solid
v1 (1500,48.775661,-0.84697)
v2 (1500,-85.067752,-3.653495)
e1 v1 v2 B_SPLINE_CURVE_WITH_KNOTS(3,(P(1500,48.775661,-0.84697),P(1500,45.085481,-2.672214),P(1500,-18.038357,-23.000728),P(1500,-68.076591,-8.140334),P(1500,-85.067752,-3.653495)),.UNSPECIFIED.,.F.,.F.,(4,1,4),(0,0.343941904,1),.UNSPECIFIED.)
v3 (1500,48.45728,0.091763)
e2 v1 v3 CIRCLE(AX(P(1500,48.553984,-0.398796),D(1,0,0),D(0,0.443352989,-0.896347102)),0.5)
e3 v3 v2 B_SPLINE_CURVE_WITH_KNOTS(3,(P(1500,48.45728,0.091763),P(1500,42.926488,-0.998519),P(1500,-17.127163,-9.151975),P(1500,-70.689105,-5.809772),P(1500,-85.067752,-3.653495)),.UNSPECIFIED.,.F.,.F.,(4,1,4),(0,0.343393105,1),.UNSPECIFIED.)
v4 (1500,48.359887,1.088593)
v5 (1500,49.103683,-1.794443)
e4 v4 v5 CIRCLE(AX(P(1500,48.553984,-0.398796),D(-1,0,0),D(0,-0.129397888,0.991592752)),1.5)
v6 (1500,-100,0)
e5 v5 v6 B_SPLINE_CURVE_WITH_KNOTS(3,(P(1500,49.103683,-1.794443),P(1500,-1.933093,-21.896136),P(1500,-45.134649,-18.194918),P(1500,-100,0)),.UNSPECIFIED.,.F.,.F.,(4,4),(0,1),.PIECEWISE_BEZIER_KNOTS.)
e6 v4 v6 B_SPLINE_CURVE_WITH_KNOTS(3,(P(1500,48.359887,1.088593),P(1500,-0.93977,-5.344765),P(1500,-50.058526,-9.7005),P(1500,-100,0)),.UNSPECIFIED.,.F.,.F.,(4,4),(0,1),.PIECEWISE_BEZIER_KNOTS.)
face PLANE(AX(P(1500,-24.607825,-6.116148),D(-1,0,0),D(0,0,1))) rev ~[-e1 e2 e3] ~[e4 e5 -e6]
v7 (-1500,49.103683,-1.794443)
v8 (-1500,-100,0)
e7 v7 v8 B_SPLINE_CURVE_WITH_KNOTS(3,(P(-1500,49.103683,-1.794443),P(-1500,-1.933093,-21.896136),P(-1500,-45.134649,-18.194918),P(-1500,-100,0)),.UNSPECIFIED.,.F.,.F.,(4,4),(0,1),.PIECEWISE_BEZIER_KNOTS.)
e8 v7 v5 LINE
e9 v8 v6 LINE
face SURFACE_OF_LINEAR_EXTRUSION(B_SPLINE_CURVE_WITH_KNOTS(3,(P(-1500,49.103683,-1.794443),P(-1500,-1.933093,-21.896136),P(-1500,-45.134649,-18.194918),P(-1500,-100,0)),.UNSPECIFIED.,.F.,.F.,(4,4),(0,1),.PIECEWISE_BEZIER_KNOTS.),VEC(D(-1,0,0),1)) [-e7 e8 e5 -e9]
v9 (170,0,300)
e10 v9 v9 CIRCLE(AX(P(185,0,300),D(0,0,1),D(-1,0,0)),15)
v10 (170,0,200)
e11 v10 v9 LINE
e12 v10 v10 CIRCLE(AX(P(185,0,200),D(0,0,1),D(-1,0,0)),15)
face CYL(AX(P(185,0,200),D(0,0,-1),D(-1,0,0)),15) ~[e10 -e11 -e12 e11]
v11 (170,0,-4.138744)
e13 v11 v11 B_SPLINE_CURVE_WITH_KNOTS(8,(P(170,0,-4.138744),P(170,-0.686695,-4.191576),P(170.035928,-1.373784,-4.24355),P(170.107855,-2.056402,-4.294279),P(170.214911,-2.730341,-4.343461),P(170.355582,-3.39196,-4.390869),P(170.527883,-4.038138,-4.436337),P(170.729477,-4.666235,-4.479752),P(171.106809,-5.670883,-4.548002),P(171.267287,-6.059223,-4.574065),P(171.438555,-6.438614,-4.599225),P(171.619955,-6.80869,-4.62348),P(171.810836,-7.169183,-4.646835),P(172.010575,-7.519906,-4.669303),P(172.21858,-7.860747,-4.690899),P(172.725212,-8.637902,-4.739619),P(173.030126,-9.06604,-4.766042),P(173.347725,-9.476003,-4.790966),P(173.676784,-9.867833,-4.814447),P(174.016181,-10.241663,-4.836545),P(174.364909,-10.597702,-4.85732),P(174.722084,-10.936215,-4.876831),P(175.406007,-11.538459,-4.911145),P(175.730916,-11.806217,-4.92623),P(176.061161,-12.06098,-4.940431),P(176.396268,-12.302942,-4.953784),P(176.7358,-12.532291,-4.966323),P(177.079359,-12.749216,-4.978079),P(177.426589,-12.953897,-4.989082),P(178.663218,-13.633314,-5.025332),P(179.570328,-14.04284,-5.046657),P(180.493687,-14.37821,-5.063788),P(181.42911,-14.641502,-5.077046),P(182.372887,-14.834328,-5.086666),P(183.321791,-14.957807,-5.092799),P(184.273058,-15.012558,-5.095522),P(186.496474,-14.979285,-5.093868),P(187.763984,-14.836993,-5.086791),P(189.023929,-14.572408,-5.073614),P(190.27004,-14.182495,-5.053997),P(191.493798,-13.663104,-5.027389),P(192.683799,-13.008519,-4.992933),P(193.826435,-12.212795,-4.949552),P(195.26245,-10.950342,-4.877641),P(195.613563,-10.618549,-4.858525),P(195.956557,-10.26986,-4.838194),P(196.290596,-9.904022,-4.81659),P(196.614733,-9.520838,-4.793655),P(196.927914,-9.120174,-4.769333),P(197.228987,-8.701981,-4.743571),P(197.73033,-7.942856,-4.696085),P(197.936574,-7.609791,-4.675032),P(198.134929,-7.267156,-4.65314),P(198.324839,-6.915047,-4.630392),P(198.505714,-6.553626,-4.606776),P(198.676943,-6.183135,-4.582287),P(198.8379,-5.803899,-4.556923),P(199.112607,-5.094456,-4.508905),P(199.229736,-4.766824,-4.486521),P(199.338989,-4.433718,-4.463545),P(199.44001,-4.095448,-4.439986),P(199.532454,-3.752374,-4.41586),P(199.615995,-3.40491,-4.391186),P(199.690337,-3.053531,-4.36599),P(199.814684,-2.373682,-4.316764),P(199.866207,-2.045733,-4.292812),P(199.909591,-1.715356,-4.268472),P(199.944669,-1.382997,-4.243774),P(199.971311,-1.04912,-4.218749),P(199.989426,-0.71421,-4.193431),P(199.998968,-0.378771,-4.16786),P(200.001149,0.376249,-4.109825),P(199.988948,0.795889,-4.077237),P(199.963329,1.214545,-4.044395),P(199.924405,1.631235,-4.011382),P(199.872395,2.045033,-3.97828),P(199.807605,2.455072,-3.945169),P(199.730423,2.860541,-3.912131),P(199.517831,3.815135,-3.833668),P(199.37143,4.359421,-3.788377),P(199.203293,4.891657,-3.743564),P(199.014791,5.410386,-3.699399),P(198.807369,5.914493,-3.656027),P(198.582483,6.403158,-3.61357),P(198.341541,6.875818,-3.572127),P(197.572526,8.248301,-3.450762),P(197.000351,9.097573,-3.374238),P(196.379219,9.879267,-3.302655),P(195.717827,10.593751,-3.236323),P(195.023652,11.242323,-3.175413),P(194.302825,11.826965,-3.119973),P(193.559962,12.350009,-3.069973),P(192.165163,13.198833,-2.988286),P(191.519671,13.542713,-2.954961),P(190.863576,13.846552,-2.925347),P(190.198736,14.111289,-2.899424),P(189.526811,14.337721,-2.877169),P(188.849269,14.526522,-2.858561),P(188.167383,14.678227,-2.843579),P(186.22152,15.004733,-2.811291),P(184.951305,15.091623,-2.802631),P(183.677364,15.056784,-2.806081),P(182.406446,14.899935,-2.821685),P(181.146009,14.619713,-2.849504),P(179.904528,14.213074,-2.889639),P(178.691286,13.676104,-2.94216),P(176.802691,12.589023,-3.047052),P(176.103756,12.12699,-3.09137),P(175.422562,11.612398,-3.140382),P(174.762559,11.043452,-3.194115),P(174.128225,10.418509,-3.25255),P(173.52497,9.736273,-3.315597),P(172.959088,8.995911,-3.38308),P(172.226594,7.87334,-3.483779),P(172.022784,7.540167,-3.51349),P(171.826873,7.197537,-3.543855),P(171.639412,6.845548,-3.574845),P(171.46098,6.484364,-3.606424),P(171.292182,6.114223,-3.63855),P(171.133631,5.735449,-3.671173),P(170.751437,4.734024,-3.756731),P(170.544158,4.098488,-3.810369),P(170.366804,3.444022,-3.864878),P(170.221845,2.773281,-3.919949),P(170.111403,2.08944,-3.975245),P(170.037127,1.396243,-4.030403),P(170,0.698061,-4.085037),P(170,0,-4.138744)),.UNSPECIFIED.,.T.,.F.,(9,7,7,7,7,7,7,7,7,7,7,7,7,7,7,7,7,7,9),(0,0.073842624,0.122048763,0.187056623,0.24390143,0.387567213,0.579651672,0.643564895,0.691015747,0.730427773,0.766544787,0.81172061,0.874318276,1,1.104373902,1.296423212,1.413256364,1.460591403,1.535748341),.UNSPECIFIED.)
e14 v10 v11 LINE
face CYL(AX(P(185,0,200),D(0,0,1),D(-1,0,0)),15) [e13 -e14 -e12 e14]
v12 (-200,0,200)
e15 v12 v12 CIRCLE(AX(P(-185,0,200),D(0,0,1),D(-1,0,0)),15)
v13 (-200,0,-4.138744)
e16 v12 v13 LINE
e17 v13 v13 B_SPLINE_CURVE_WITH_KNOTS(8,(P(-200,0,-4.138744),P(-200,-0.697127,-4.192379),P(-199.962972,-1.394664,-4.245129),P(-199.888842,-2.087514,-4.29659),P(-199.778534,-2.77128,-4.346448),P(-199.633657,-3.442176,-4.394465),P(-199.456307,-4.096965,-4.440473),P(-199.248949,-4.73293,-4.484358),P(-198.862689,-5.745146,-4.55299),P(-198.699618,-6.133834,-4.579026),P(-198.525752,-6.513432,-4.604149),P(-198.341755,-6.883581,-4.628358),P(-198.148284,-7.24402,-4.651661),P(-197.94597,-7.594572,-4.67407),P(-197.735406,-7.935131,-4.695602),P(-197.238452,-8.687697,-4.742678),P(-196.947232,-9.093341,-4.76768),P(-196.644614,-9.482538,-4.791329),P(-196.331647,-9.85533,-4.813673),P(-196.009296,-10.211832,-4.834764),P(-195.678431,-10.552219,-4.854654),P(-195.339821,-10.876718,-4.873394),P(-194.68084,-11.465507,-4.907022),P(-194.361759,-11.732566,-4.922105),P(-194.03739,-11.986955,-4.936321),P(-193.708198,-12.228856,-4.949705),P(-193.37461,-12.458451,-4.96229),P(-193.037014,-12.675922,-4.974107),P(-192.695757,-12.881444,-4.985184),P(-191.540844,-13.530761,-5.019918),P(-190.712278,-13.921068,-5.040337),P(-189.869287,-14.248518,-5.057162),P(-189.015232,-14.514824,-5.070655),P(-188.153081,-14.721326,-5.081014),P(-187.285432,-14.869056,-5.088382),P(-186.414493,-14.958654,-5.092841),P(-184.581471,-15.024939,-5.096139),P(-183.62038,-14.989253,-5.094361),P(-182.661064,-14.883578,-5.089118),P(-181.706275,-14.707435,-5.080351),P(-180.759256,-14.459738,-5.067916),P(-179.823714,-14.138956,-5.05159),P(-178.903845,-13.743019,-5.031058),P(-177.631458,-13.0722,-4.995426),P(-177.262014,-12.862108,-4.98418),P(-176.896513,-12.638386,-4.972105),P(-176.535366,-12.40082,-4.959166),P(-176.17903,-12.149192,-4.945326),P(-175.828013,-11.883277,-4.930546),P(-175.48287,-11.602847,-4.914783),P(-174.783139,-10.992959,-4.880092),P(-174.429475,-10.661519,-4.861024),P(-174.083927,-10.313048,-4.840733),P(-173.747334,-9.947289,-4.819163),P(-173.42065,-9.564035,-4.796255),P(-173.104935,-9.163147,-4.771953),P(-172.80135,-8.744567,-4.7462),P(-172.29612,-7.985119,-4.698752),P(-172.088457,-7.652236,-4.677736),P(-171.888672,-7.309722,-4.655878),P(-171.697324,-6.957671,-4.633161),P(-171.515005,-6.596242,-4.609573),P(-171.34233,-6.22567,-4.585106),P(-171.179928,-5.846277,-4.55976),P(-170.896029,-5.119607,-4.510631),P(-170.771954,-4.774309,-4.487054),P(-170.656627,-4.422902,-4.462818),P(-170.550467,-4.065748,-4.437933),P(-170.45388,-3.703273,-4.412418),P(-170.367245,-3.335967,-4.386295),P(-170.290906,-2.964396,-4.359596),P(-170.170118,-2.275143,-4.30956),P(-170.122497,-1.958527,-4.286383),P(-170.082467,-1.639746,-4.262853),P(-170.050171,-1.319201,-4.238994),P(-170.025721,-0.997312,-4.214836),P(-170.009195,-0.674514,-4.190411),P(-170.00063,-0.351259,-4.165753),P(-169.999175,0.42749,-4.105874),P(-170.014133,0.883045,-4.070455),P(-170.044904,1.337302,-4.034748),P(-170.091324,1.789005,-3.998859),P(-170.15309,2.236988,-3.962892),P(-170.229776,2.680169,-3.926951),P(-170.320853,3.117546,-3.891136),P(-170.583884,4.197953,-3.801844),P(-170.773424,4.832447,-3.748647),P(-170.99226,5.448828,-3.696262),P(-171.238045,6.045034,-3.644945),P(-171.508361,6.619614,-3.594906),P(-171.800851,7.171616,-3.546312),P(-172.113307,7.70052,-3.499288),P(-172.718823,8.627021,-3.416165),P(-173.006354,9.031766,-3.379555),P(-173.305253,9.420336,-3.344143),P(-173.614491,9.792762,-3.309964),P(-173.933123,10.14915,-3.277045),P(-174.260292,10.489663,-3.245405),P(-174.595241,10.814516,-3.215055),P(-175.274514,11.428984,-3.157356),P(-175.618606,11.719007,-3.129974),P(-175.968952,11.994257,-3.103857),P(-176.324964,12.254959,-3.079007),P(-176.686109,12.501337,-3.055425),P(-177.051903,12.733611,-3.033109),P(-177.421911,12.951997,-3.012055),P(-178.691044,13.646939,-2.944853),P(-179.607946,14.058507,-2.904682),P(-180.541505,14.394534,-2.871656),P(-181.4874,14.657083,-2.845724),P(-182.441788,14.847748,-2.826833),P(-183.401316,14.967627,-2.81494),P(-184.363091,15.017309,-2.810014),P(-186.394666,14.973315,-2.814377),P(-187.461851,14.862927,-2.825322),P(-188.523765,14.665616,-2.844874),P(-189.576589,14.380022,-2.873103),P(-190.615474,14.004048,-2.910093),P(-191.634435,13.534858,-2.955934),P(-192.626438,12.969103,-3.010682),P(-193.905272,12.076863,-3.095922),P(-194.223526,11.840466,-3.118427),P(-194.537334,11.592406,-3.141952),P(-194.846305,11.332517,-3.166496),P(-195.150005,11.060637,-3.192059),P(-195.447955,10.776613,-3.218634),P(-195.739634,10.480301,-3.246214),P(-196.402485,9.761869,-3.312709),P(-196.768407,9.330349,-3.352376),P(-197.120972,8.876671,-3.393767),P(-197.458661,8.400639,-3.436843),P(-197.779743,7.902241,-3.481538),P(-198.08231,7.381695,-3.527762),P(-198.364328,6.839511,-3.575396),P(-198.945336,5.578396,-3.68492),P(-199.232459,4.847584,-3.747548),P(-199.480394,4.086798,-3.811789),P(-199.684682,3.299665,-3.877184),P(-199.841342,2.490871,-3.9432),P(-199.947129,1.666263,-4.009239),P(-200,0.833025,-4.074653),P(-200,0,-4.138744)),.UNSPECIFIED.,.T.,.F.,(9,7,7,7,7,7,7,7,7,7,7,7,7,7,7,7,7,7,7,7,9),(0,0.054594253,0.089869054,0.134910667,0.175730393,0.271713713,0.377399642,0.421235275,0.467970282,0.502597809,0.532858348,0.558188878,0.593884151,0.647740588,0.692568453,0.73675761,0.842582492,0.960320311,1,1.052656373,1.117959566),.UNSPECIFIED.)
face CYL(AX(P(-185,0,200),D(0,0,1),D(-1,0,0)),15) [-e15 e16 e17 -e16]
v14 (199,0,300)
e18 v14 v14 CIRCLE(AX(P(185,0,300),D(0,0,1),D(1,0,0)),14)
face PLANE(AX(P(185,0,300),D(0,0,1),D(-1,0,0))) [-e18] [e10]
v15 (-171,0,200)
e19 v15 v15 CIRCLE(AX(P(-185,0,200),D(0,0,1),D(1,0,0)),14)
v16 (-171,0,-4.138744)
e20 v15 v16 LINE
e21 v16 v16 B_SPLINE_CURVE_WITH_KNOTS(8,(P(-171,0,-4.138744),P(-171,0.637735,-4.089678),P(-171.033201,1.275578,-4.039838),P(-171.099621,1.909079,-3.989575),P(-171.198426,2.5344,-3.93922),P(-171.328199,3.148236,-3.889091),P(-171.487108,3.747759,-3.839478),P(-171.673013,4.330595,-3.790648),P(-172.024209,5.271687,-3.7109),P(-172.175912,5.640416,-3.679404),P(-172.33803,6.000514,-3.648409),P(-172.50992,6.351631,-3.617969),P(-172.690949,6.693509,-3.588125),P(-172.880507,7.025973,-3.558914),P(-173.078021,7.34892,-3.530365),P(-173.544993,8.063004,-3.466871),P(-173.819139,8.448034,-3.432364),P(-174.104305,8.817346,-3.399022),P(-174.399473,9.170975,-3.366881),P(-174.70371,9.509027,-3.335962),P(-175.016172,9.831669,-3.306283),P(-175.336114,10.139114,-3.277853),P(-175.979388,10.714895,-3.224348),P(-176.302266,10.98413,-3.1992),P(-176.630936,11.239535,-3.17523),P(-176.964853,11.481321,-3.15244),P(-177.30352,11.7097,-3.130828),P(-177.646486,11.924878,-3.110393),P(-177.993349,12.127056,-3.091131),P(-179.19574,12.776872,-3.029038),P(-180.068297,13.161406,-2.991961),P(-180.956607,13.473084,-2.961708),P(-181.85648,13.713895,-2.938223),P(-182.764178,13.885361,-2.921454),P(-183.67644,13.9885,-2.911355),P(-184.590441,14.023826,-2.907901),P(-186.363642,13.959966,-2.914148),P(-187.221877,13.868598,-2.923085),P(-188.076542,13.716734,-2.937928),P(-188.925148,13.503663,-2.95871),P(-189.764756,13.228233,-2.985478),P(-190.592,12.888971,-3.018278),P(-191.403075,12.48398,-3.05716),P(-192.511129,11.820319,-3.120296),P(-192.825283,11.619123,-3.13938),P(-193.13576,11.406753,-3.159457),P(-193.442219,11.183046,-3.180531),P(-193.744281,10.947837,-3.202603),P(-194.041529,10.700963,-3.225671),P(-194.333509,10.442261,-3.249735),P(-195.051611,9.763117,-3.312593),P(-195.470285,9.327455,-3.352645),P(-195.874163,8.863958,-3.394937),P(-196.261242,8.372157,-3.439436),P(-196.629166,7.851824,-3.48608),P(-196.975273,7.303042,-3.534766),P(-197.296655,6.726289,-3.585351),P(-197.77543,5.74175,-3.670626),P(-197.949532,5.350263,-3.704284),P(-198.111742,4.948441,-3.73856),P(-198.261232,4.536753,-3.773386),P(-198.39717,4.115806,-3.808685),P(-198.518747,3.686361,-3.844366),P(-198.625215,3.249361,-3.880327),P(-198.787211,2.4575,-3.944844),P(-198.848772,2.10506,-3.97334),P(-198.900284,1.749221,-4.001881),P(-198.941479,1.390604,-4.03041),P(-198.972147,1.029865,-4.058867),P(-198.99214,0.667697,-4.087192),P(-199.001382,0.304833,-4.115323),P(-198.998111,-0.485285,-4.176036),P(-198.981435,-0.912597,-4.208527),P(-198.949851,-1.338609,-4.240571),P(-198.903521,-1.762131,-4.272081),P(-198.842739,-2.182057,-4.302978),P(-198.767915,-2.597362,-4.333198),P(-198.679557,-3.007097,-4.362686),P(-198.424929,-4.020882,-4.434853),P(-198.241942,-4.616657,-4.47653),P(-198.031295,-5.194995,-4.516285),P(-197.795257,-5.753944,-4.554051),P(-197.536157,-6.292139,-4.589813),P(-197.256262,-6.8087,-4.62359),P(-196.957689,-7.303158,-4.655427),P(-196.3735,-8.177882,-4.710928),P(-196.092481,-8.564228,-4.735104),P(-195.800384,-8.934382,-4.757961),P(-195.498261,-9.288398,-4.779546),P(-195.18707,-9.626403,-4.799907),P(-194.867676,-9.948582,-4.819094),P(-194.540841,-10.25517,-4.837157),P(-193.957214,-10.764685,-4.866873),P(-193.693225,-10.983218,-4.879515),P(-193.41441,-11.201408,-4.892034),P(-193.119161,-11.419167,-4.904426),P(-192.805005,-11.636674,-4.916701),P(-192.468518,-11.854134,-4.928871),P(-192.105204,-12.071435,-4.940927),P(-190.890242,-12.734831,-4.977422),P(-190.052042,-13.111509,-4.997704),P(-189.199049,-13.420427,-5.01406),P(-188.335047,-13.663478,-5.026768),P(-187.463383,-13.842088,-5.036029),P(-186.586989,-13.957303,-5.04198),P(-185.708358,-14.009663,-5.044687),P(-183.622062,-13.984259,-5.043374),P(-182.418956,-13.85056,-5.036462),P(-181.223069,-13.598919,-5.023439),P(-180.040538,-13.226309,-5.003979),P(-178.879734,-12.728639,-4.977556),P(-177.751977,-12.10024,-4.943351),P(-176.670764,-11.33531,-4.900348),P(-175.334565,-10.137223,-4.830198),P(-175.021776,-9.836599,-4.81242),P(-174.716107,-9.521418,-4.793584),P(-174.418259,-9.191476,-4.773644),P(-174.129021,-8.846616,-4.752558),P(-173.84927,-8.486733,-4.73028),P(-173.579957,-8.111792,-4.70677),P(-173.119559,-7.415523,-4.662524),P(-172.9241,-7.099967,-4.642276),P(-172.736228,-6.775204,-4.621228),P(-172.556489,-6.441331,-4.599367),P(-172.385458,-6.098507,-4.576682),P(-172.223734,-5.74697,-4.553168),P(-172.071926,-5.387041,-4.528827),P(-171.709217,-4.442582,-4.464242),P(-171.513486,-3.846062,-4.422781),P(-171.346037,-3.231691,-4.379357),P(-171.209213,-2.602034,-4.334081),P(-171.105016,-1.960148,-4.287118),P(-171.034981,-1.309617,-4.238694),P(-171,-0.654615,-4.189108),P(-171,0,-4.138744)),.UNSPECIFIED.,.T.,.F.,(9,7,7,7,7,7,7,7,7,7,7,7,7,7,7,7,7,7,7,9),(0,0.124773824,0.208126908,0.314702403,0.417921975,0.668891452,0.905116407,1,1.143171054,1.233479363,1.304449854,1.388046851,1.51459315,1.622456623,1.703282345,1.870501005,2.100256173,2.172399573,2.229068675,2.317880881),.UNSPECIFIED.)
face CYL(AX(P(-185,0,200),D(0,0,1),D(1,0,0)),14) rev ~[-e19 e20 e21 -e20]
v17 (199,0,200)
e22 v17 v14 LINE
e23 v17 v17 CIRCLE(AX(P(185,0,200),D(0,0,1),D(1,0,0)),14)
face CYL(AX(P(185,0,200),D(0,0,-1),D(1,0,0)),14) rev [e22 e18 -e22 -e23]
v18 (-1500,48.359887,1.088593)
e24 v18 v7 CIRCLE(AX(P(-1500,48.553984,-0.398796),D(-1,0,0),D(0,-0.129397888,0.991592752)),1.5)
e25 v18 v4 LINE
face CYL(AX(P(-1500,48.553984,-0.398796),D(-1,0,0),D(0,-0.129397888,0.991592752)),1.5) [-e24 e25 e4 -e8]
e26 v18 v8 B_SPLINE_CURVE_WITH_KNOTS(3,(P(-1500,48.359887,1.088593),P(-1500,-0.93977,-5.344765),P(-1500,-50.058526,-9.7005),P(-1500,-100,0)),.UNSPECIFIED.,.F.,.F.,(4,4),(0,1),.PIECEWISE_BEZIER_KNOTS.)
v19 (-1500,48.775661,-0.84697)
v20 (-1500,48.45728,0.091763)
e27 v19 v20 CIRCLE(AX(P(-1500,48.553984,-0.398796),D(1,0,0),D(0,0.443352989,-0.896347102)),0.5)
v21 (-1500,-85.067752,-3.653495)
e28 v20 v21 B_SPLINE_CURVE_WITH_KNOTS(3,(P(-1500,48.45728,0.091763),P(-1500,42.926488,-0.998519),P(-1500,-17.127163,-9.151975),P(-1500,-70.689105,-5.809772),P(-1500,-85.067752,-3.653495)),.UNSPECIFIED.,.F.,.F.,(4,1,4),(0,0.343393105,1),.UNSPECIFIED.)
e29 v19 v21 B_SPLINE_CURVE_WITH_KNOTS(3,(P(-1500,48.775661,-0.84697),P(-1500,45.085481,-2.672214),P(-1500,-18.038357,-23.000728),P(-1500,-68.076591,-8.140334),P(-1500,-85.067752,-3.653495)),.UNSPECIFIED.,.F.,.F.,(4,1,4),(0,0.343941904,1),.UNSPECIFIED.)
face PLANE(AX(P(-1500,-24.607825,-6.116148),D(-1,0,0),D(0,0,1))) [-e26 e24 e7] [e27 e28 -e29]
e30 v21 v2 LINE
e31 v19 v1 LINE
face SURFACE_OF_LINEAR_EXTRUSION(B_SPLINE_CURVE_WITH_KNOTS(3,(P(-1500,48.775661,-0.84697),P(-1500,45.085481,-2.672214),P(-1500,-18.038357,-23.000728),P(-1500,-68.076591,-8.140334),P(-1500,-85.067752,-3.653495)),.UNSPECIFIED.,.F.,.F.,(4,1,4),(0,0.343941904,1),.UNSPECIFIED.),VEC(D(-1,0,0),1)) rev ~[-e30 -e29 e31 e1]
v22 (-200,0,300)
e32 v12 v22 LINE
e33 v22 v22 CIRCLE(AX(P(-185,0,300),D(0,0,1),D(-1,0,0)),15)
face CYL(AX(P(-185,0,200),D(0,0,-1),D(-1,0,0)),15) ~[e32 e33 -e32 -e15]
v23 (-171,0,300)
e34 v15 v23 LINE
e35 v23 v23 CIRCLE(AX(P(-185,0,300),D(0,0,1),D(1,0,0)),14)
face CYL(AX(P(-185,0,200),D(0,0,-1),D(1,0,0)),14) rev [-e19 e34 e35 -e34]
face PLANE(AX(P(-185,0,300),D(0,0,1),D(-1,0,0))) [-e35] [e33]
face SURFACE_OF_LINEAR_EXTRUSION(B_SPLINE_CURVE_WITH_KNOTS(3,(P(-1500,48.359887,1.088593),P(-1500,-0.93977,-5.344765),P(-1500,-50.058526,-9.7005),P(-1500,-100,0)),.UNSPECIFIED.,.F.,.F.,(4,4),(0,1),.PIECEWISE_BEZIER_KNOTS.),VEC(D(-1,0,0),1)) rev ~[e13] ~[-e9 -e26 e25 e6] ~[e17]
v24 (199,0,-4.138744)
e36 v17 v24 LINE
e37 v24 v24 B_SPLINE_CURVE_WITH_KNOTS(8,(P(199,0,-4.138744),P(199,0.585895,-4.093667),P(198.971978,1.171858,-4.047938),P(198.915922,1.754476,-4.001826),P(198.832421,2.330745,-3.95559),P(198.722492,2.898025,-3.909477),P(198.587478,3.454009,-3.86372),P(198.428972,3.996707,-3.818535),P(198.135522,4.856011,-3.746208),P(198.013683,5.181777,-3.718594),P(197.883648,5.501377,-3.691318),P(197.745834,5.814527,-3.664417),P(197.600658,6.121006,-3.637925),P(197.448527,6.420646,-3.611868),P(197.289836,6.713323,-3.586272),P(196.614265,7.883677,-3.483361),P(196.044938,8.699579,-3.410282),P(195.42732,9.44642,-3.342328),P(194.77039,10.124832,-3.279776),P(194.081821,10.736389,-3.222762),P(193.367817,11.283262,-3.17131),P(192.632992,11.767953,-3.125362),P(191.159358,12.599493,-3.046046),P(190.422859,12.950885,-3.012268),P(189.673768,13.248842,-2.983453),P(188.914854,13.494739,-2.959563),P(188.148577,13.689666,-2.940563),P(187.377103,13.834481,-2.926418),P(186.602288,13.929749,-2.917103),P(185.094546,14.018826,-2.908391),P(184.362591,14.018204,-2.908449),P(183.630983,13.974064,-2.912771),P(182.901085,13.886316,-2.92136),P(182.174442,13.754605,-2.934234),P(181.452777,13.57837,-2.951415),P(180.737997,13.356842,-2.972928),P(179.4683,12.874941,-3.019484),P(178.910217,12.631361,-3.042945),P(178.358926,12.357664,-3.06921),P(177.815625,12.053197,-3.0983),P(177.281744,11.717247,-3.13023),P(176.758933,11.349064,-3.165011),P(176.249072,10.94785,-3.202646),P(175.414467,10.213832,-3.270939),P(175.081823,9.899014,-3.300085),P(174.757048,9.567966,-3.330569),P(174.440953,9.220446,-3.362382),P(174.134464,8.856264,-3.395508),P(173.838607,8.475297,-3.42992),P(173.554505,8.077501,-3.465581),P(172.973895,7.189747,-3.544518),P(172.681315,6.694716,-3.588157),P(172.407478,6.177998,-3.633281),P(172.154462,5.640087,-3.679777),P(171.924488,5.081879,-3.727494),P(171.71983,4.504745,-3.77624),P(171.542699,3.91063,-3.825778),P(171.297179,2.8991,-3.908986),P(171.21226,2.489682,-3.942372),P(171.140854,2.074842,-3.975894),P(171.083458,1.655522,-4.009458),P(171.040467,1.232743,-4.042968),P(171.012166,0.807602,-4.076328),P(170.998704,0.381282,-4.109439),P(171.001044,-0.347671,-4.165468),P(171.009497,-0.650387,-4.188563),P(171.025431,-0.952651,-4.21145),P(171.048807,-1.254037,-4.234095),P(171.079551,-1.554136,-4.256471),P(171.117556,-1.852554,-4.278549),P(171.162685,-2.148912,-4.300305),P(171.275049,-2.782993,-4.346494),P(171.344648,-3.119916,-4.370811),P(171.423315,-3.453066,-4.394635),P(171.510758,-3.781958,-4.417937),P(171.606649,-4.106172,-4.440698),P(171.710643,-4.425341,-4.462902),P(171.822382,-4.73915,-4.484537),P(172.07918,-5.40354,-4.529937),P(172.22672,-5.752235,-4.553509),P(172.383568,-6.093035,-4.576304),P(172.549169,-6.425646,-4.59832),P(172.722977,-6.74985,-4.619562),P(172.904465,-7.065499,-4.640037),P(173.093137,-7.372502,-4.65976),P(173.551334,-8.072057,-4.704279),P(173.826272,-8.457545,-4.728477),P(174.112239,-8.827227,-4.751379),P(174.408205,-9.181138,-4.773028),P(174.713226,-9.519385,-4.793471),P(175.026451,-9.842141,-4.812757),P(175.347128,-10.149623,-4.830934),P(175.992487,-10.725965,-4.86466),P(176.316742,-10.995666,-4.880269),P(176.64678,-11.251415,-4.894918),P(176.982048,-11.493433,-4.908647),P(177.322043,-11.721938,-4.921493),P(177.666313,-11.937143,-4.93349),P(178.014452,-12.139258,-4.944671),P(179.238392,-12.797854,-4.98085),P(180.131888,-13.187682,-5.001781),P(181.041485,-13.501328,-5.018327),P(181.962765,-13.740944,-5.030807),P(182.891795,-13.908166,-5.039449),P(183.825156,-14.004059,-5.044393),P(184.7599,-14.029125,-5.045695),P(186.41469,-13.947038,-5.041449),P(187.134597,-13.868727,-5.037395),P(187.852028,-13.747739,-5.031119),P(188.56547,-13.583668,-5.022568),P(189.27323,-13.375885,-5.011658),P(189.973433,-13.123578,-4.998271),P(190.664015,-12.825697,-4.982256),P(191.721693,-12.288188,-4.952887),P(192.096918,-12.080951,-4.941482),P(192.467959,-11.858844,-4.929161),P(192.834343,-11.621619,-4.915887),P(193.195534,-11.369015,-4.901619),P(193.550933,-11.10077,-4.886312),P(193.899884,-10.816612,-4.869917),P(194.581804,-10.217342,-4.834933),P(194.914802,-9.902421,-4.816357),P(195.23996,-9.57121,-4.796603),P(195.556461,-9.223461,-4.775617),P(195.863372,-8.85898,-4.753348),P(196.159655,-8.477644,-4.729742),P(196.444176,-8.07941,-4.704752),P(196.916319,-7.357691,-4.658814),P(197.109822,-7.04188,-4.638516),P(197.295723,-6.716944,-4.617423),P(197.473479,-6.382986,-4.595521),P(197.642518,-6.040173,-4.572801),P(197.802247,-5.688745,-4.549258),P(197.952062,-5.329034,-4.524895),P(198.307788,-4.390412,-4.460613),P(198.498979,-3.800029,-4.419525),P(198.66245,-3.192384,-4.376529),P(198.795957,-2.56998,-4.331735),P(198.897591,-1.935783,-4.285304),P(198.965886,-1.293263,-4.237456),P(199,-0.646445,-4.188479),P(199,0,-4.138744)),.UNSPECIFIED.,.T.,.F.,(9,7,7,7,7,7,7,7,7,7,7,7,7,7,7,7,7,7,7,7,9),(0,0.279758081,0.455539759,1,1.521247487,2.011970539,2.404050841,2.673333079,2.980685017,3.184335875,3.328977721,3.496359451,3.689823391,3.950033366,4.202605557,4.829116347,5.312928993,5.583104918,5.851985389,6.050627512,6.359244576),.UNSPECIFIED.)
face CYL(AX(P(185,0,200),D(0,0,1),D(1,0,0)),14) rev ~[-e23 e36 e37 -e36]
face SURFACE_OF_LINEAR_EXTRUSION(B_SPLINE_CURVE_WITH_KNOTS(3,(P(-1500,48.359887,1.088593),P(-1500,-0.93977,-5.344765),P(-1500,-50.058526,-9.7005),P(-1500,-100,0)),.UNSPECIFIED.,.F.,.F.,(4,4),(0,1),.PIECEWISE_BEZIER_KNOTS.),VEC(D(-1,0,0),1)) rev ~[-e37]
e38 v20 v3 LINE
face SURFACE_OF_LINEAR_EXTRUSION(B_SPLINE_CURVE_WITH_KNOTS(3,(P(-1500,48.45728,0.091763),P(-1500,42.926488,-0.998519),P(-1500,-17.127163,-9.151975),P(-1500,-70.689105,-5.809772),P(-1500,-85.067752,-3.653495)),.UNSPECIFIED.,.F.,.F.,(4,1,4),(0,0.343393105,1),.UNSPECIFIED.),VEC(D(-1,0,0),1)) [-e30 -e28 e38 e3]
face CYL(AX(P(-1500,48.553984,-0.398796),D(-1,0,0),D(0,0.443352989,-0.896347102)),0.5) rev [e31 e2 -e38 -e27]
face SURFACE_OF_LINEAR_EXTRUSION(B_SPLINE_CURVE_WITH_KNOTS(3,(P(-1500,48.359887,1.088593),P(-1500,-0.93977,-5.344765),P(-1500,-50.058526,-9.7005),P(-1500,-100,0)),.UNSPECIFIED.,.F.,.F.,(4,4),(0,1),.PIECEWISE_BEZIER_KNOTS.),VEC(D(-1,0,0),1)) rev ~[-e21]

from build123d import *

# Parameters (mm, degrees)
EXTRUDE_1_DEPTH             = 1500
EXTRUDE_1_DEPTH_BACK        = 1500
EXTRUDE_2_REACH             = 1520.673
SKETCH_3_R                  = 15
SKETCH_3_R_2                = 14
EXTRUDE_2_DIRECTION_2_DEPTH = 100


with BuildPart() as part:
    # 草圖2 → 填料-伸長1 (new, two sides: drawn at the far end of the back side and taken through both)
    with BuildSketch(Plane(origin=(0, 0, 0), x_dir=(0, 0, -1), z_dir=(1, 0, 0)).offset(-EXTRUDE_1_DEPTH_BACK)):
        with BuildLine():
            ThreePointArc((-1.088593129, 48.359887349), (0.024079781, 50.006426178), (1.794443126, 49.103683277))
            add(Edge.make_bspline(
                [(1.794443126, 49.103683277), (21.896135798, -1.933092604), (18.194917747, -45.134648614), (0, -100)],
                knots=[0, 0, 0, 0, 1, 1, 1, 1], degree=3))
            add(Edge.make_bspline(
                [(-1.088593129, 48.359887349), (5.344765184, -0.939769616), (9.700500238, -50.058525982), (0, -100)],
                knots=[0, 0, 0, 0, 1, 1, 1, 1], degree=3))
        make_face()
        with BuildLine():
            ThreePointArc((0.84696955, 48.775660675), (0.238201391, 49.027491701), (-0.091763263, 48.457280455))
            add(Edge.make_bspline(
                [(-0.091763263, 48.457280455), (0.998519249, 42.926488495), (9.15197505, -17.127162666), (5.809771684, -70.689105238), (3.653495177, -85.067751619)],
                knots=[0, 0, 0, 0, 0.343393105, 1, 1, 1, 1], degree=3))
            add(Edge.make_bspline(
                [(0.84696955, 48.775660675), (2.672213644, 45.08548086), (23.000728478, -18.038357404), (8.140334407, -68.076591074), (3.653495177, -85.067751619)],
                knots=[0, 0, 0, 0, 0.343941904, 1, 1, 1, 1], degree=3))
        make_face(mode=Mode.SUBTRACT)
    extrude(amount=EXTRUDE_1_DEPTH + EXTRUDE_1_DEPTH_BACK)

    # 草圖3 → 填料-伸長2 (add, up to next)
    with BuildSketch(Plane.XY.offset(200), mode=Mode.PRIVATE) as extrude_2_sk1:
        with Locations(Location((185, 0, 0), (0, 0, 180))):
            Circle(SKETCH_3_R)
        with Locations((185, 0)):
            Circle(SKETCH_3_R_2, mode=Mode.SUBTRACT)
    extrude_2_tool1 = extrude(extrude_2_sk1.sketch, amount=-EXTRUDE_2_REACH, mode=Mode.PRIVATE) - part.part
    # 草圖3 → 填料-伸長2 (add, up to next)
    with BuildSketch(Plane.XY.offset(200), mode=Mode.PRIVATE) as extrude_2_sk2:
        with Locations(Location((-185, 0, 0), (0, 0, 180))):
            Circle(SKETCH_3_R)
        with Locations((-185, 0)):
            Circle(SKETCH_3_R_2, mode=Mode.SUBTRACT)
    extrude_2_tool2 = extrude(extrude_2_sk2.sketch, amount=-EXTRUDE_2_REACH, mode=Mode.PRIVATE) - part.part
    add(extrude_2_tool1.solids().sort_by_distance((199.575736, 0, 200))[0])
    add(extrude_2_tool2.solids().sort_by_distance((-170.424264, 0, 200))[0])

    # 草圖3 → 填料-伸長2 direction 2 (add)
    # profile 1 of 2: a face of its own
    with BuildSketch(Plane.XY.offset(200)):
        with Locations(Location((185, 0, 0), (0, 0, 180))):
            Circle(SKETCH_3_R)
        with Locations((185, 0)):
            Circle(SKETCH_3_R_2, mode=Mode.SUBTRACT)
    # profile 2 of 2: a face of its own
    with BuildSketch(Plane.XY.offset(200)):
        with Locations(Location((-185, 0, 0), (0, 0, 180))):
            Circle(SKETCH_3_R)
        with Locations((-185, 0)):
            Circle(SKETCH_3_R_2, mode=Mode.SUBTRACT)
    extrude(amount=EXTRUDE_2_DIRECTION_2_DEPTH)


solid = part.part
